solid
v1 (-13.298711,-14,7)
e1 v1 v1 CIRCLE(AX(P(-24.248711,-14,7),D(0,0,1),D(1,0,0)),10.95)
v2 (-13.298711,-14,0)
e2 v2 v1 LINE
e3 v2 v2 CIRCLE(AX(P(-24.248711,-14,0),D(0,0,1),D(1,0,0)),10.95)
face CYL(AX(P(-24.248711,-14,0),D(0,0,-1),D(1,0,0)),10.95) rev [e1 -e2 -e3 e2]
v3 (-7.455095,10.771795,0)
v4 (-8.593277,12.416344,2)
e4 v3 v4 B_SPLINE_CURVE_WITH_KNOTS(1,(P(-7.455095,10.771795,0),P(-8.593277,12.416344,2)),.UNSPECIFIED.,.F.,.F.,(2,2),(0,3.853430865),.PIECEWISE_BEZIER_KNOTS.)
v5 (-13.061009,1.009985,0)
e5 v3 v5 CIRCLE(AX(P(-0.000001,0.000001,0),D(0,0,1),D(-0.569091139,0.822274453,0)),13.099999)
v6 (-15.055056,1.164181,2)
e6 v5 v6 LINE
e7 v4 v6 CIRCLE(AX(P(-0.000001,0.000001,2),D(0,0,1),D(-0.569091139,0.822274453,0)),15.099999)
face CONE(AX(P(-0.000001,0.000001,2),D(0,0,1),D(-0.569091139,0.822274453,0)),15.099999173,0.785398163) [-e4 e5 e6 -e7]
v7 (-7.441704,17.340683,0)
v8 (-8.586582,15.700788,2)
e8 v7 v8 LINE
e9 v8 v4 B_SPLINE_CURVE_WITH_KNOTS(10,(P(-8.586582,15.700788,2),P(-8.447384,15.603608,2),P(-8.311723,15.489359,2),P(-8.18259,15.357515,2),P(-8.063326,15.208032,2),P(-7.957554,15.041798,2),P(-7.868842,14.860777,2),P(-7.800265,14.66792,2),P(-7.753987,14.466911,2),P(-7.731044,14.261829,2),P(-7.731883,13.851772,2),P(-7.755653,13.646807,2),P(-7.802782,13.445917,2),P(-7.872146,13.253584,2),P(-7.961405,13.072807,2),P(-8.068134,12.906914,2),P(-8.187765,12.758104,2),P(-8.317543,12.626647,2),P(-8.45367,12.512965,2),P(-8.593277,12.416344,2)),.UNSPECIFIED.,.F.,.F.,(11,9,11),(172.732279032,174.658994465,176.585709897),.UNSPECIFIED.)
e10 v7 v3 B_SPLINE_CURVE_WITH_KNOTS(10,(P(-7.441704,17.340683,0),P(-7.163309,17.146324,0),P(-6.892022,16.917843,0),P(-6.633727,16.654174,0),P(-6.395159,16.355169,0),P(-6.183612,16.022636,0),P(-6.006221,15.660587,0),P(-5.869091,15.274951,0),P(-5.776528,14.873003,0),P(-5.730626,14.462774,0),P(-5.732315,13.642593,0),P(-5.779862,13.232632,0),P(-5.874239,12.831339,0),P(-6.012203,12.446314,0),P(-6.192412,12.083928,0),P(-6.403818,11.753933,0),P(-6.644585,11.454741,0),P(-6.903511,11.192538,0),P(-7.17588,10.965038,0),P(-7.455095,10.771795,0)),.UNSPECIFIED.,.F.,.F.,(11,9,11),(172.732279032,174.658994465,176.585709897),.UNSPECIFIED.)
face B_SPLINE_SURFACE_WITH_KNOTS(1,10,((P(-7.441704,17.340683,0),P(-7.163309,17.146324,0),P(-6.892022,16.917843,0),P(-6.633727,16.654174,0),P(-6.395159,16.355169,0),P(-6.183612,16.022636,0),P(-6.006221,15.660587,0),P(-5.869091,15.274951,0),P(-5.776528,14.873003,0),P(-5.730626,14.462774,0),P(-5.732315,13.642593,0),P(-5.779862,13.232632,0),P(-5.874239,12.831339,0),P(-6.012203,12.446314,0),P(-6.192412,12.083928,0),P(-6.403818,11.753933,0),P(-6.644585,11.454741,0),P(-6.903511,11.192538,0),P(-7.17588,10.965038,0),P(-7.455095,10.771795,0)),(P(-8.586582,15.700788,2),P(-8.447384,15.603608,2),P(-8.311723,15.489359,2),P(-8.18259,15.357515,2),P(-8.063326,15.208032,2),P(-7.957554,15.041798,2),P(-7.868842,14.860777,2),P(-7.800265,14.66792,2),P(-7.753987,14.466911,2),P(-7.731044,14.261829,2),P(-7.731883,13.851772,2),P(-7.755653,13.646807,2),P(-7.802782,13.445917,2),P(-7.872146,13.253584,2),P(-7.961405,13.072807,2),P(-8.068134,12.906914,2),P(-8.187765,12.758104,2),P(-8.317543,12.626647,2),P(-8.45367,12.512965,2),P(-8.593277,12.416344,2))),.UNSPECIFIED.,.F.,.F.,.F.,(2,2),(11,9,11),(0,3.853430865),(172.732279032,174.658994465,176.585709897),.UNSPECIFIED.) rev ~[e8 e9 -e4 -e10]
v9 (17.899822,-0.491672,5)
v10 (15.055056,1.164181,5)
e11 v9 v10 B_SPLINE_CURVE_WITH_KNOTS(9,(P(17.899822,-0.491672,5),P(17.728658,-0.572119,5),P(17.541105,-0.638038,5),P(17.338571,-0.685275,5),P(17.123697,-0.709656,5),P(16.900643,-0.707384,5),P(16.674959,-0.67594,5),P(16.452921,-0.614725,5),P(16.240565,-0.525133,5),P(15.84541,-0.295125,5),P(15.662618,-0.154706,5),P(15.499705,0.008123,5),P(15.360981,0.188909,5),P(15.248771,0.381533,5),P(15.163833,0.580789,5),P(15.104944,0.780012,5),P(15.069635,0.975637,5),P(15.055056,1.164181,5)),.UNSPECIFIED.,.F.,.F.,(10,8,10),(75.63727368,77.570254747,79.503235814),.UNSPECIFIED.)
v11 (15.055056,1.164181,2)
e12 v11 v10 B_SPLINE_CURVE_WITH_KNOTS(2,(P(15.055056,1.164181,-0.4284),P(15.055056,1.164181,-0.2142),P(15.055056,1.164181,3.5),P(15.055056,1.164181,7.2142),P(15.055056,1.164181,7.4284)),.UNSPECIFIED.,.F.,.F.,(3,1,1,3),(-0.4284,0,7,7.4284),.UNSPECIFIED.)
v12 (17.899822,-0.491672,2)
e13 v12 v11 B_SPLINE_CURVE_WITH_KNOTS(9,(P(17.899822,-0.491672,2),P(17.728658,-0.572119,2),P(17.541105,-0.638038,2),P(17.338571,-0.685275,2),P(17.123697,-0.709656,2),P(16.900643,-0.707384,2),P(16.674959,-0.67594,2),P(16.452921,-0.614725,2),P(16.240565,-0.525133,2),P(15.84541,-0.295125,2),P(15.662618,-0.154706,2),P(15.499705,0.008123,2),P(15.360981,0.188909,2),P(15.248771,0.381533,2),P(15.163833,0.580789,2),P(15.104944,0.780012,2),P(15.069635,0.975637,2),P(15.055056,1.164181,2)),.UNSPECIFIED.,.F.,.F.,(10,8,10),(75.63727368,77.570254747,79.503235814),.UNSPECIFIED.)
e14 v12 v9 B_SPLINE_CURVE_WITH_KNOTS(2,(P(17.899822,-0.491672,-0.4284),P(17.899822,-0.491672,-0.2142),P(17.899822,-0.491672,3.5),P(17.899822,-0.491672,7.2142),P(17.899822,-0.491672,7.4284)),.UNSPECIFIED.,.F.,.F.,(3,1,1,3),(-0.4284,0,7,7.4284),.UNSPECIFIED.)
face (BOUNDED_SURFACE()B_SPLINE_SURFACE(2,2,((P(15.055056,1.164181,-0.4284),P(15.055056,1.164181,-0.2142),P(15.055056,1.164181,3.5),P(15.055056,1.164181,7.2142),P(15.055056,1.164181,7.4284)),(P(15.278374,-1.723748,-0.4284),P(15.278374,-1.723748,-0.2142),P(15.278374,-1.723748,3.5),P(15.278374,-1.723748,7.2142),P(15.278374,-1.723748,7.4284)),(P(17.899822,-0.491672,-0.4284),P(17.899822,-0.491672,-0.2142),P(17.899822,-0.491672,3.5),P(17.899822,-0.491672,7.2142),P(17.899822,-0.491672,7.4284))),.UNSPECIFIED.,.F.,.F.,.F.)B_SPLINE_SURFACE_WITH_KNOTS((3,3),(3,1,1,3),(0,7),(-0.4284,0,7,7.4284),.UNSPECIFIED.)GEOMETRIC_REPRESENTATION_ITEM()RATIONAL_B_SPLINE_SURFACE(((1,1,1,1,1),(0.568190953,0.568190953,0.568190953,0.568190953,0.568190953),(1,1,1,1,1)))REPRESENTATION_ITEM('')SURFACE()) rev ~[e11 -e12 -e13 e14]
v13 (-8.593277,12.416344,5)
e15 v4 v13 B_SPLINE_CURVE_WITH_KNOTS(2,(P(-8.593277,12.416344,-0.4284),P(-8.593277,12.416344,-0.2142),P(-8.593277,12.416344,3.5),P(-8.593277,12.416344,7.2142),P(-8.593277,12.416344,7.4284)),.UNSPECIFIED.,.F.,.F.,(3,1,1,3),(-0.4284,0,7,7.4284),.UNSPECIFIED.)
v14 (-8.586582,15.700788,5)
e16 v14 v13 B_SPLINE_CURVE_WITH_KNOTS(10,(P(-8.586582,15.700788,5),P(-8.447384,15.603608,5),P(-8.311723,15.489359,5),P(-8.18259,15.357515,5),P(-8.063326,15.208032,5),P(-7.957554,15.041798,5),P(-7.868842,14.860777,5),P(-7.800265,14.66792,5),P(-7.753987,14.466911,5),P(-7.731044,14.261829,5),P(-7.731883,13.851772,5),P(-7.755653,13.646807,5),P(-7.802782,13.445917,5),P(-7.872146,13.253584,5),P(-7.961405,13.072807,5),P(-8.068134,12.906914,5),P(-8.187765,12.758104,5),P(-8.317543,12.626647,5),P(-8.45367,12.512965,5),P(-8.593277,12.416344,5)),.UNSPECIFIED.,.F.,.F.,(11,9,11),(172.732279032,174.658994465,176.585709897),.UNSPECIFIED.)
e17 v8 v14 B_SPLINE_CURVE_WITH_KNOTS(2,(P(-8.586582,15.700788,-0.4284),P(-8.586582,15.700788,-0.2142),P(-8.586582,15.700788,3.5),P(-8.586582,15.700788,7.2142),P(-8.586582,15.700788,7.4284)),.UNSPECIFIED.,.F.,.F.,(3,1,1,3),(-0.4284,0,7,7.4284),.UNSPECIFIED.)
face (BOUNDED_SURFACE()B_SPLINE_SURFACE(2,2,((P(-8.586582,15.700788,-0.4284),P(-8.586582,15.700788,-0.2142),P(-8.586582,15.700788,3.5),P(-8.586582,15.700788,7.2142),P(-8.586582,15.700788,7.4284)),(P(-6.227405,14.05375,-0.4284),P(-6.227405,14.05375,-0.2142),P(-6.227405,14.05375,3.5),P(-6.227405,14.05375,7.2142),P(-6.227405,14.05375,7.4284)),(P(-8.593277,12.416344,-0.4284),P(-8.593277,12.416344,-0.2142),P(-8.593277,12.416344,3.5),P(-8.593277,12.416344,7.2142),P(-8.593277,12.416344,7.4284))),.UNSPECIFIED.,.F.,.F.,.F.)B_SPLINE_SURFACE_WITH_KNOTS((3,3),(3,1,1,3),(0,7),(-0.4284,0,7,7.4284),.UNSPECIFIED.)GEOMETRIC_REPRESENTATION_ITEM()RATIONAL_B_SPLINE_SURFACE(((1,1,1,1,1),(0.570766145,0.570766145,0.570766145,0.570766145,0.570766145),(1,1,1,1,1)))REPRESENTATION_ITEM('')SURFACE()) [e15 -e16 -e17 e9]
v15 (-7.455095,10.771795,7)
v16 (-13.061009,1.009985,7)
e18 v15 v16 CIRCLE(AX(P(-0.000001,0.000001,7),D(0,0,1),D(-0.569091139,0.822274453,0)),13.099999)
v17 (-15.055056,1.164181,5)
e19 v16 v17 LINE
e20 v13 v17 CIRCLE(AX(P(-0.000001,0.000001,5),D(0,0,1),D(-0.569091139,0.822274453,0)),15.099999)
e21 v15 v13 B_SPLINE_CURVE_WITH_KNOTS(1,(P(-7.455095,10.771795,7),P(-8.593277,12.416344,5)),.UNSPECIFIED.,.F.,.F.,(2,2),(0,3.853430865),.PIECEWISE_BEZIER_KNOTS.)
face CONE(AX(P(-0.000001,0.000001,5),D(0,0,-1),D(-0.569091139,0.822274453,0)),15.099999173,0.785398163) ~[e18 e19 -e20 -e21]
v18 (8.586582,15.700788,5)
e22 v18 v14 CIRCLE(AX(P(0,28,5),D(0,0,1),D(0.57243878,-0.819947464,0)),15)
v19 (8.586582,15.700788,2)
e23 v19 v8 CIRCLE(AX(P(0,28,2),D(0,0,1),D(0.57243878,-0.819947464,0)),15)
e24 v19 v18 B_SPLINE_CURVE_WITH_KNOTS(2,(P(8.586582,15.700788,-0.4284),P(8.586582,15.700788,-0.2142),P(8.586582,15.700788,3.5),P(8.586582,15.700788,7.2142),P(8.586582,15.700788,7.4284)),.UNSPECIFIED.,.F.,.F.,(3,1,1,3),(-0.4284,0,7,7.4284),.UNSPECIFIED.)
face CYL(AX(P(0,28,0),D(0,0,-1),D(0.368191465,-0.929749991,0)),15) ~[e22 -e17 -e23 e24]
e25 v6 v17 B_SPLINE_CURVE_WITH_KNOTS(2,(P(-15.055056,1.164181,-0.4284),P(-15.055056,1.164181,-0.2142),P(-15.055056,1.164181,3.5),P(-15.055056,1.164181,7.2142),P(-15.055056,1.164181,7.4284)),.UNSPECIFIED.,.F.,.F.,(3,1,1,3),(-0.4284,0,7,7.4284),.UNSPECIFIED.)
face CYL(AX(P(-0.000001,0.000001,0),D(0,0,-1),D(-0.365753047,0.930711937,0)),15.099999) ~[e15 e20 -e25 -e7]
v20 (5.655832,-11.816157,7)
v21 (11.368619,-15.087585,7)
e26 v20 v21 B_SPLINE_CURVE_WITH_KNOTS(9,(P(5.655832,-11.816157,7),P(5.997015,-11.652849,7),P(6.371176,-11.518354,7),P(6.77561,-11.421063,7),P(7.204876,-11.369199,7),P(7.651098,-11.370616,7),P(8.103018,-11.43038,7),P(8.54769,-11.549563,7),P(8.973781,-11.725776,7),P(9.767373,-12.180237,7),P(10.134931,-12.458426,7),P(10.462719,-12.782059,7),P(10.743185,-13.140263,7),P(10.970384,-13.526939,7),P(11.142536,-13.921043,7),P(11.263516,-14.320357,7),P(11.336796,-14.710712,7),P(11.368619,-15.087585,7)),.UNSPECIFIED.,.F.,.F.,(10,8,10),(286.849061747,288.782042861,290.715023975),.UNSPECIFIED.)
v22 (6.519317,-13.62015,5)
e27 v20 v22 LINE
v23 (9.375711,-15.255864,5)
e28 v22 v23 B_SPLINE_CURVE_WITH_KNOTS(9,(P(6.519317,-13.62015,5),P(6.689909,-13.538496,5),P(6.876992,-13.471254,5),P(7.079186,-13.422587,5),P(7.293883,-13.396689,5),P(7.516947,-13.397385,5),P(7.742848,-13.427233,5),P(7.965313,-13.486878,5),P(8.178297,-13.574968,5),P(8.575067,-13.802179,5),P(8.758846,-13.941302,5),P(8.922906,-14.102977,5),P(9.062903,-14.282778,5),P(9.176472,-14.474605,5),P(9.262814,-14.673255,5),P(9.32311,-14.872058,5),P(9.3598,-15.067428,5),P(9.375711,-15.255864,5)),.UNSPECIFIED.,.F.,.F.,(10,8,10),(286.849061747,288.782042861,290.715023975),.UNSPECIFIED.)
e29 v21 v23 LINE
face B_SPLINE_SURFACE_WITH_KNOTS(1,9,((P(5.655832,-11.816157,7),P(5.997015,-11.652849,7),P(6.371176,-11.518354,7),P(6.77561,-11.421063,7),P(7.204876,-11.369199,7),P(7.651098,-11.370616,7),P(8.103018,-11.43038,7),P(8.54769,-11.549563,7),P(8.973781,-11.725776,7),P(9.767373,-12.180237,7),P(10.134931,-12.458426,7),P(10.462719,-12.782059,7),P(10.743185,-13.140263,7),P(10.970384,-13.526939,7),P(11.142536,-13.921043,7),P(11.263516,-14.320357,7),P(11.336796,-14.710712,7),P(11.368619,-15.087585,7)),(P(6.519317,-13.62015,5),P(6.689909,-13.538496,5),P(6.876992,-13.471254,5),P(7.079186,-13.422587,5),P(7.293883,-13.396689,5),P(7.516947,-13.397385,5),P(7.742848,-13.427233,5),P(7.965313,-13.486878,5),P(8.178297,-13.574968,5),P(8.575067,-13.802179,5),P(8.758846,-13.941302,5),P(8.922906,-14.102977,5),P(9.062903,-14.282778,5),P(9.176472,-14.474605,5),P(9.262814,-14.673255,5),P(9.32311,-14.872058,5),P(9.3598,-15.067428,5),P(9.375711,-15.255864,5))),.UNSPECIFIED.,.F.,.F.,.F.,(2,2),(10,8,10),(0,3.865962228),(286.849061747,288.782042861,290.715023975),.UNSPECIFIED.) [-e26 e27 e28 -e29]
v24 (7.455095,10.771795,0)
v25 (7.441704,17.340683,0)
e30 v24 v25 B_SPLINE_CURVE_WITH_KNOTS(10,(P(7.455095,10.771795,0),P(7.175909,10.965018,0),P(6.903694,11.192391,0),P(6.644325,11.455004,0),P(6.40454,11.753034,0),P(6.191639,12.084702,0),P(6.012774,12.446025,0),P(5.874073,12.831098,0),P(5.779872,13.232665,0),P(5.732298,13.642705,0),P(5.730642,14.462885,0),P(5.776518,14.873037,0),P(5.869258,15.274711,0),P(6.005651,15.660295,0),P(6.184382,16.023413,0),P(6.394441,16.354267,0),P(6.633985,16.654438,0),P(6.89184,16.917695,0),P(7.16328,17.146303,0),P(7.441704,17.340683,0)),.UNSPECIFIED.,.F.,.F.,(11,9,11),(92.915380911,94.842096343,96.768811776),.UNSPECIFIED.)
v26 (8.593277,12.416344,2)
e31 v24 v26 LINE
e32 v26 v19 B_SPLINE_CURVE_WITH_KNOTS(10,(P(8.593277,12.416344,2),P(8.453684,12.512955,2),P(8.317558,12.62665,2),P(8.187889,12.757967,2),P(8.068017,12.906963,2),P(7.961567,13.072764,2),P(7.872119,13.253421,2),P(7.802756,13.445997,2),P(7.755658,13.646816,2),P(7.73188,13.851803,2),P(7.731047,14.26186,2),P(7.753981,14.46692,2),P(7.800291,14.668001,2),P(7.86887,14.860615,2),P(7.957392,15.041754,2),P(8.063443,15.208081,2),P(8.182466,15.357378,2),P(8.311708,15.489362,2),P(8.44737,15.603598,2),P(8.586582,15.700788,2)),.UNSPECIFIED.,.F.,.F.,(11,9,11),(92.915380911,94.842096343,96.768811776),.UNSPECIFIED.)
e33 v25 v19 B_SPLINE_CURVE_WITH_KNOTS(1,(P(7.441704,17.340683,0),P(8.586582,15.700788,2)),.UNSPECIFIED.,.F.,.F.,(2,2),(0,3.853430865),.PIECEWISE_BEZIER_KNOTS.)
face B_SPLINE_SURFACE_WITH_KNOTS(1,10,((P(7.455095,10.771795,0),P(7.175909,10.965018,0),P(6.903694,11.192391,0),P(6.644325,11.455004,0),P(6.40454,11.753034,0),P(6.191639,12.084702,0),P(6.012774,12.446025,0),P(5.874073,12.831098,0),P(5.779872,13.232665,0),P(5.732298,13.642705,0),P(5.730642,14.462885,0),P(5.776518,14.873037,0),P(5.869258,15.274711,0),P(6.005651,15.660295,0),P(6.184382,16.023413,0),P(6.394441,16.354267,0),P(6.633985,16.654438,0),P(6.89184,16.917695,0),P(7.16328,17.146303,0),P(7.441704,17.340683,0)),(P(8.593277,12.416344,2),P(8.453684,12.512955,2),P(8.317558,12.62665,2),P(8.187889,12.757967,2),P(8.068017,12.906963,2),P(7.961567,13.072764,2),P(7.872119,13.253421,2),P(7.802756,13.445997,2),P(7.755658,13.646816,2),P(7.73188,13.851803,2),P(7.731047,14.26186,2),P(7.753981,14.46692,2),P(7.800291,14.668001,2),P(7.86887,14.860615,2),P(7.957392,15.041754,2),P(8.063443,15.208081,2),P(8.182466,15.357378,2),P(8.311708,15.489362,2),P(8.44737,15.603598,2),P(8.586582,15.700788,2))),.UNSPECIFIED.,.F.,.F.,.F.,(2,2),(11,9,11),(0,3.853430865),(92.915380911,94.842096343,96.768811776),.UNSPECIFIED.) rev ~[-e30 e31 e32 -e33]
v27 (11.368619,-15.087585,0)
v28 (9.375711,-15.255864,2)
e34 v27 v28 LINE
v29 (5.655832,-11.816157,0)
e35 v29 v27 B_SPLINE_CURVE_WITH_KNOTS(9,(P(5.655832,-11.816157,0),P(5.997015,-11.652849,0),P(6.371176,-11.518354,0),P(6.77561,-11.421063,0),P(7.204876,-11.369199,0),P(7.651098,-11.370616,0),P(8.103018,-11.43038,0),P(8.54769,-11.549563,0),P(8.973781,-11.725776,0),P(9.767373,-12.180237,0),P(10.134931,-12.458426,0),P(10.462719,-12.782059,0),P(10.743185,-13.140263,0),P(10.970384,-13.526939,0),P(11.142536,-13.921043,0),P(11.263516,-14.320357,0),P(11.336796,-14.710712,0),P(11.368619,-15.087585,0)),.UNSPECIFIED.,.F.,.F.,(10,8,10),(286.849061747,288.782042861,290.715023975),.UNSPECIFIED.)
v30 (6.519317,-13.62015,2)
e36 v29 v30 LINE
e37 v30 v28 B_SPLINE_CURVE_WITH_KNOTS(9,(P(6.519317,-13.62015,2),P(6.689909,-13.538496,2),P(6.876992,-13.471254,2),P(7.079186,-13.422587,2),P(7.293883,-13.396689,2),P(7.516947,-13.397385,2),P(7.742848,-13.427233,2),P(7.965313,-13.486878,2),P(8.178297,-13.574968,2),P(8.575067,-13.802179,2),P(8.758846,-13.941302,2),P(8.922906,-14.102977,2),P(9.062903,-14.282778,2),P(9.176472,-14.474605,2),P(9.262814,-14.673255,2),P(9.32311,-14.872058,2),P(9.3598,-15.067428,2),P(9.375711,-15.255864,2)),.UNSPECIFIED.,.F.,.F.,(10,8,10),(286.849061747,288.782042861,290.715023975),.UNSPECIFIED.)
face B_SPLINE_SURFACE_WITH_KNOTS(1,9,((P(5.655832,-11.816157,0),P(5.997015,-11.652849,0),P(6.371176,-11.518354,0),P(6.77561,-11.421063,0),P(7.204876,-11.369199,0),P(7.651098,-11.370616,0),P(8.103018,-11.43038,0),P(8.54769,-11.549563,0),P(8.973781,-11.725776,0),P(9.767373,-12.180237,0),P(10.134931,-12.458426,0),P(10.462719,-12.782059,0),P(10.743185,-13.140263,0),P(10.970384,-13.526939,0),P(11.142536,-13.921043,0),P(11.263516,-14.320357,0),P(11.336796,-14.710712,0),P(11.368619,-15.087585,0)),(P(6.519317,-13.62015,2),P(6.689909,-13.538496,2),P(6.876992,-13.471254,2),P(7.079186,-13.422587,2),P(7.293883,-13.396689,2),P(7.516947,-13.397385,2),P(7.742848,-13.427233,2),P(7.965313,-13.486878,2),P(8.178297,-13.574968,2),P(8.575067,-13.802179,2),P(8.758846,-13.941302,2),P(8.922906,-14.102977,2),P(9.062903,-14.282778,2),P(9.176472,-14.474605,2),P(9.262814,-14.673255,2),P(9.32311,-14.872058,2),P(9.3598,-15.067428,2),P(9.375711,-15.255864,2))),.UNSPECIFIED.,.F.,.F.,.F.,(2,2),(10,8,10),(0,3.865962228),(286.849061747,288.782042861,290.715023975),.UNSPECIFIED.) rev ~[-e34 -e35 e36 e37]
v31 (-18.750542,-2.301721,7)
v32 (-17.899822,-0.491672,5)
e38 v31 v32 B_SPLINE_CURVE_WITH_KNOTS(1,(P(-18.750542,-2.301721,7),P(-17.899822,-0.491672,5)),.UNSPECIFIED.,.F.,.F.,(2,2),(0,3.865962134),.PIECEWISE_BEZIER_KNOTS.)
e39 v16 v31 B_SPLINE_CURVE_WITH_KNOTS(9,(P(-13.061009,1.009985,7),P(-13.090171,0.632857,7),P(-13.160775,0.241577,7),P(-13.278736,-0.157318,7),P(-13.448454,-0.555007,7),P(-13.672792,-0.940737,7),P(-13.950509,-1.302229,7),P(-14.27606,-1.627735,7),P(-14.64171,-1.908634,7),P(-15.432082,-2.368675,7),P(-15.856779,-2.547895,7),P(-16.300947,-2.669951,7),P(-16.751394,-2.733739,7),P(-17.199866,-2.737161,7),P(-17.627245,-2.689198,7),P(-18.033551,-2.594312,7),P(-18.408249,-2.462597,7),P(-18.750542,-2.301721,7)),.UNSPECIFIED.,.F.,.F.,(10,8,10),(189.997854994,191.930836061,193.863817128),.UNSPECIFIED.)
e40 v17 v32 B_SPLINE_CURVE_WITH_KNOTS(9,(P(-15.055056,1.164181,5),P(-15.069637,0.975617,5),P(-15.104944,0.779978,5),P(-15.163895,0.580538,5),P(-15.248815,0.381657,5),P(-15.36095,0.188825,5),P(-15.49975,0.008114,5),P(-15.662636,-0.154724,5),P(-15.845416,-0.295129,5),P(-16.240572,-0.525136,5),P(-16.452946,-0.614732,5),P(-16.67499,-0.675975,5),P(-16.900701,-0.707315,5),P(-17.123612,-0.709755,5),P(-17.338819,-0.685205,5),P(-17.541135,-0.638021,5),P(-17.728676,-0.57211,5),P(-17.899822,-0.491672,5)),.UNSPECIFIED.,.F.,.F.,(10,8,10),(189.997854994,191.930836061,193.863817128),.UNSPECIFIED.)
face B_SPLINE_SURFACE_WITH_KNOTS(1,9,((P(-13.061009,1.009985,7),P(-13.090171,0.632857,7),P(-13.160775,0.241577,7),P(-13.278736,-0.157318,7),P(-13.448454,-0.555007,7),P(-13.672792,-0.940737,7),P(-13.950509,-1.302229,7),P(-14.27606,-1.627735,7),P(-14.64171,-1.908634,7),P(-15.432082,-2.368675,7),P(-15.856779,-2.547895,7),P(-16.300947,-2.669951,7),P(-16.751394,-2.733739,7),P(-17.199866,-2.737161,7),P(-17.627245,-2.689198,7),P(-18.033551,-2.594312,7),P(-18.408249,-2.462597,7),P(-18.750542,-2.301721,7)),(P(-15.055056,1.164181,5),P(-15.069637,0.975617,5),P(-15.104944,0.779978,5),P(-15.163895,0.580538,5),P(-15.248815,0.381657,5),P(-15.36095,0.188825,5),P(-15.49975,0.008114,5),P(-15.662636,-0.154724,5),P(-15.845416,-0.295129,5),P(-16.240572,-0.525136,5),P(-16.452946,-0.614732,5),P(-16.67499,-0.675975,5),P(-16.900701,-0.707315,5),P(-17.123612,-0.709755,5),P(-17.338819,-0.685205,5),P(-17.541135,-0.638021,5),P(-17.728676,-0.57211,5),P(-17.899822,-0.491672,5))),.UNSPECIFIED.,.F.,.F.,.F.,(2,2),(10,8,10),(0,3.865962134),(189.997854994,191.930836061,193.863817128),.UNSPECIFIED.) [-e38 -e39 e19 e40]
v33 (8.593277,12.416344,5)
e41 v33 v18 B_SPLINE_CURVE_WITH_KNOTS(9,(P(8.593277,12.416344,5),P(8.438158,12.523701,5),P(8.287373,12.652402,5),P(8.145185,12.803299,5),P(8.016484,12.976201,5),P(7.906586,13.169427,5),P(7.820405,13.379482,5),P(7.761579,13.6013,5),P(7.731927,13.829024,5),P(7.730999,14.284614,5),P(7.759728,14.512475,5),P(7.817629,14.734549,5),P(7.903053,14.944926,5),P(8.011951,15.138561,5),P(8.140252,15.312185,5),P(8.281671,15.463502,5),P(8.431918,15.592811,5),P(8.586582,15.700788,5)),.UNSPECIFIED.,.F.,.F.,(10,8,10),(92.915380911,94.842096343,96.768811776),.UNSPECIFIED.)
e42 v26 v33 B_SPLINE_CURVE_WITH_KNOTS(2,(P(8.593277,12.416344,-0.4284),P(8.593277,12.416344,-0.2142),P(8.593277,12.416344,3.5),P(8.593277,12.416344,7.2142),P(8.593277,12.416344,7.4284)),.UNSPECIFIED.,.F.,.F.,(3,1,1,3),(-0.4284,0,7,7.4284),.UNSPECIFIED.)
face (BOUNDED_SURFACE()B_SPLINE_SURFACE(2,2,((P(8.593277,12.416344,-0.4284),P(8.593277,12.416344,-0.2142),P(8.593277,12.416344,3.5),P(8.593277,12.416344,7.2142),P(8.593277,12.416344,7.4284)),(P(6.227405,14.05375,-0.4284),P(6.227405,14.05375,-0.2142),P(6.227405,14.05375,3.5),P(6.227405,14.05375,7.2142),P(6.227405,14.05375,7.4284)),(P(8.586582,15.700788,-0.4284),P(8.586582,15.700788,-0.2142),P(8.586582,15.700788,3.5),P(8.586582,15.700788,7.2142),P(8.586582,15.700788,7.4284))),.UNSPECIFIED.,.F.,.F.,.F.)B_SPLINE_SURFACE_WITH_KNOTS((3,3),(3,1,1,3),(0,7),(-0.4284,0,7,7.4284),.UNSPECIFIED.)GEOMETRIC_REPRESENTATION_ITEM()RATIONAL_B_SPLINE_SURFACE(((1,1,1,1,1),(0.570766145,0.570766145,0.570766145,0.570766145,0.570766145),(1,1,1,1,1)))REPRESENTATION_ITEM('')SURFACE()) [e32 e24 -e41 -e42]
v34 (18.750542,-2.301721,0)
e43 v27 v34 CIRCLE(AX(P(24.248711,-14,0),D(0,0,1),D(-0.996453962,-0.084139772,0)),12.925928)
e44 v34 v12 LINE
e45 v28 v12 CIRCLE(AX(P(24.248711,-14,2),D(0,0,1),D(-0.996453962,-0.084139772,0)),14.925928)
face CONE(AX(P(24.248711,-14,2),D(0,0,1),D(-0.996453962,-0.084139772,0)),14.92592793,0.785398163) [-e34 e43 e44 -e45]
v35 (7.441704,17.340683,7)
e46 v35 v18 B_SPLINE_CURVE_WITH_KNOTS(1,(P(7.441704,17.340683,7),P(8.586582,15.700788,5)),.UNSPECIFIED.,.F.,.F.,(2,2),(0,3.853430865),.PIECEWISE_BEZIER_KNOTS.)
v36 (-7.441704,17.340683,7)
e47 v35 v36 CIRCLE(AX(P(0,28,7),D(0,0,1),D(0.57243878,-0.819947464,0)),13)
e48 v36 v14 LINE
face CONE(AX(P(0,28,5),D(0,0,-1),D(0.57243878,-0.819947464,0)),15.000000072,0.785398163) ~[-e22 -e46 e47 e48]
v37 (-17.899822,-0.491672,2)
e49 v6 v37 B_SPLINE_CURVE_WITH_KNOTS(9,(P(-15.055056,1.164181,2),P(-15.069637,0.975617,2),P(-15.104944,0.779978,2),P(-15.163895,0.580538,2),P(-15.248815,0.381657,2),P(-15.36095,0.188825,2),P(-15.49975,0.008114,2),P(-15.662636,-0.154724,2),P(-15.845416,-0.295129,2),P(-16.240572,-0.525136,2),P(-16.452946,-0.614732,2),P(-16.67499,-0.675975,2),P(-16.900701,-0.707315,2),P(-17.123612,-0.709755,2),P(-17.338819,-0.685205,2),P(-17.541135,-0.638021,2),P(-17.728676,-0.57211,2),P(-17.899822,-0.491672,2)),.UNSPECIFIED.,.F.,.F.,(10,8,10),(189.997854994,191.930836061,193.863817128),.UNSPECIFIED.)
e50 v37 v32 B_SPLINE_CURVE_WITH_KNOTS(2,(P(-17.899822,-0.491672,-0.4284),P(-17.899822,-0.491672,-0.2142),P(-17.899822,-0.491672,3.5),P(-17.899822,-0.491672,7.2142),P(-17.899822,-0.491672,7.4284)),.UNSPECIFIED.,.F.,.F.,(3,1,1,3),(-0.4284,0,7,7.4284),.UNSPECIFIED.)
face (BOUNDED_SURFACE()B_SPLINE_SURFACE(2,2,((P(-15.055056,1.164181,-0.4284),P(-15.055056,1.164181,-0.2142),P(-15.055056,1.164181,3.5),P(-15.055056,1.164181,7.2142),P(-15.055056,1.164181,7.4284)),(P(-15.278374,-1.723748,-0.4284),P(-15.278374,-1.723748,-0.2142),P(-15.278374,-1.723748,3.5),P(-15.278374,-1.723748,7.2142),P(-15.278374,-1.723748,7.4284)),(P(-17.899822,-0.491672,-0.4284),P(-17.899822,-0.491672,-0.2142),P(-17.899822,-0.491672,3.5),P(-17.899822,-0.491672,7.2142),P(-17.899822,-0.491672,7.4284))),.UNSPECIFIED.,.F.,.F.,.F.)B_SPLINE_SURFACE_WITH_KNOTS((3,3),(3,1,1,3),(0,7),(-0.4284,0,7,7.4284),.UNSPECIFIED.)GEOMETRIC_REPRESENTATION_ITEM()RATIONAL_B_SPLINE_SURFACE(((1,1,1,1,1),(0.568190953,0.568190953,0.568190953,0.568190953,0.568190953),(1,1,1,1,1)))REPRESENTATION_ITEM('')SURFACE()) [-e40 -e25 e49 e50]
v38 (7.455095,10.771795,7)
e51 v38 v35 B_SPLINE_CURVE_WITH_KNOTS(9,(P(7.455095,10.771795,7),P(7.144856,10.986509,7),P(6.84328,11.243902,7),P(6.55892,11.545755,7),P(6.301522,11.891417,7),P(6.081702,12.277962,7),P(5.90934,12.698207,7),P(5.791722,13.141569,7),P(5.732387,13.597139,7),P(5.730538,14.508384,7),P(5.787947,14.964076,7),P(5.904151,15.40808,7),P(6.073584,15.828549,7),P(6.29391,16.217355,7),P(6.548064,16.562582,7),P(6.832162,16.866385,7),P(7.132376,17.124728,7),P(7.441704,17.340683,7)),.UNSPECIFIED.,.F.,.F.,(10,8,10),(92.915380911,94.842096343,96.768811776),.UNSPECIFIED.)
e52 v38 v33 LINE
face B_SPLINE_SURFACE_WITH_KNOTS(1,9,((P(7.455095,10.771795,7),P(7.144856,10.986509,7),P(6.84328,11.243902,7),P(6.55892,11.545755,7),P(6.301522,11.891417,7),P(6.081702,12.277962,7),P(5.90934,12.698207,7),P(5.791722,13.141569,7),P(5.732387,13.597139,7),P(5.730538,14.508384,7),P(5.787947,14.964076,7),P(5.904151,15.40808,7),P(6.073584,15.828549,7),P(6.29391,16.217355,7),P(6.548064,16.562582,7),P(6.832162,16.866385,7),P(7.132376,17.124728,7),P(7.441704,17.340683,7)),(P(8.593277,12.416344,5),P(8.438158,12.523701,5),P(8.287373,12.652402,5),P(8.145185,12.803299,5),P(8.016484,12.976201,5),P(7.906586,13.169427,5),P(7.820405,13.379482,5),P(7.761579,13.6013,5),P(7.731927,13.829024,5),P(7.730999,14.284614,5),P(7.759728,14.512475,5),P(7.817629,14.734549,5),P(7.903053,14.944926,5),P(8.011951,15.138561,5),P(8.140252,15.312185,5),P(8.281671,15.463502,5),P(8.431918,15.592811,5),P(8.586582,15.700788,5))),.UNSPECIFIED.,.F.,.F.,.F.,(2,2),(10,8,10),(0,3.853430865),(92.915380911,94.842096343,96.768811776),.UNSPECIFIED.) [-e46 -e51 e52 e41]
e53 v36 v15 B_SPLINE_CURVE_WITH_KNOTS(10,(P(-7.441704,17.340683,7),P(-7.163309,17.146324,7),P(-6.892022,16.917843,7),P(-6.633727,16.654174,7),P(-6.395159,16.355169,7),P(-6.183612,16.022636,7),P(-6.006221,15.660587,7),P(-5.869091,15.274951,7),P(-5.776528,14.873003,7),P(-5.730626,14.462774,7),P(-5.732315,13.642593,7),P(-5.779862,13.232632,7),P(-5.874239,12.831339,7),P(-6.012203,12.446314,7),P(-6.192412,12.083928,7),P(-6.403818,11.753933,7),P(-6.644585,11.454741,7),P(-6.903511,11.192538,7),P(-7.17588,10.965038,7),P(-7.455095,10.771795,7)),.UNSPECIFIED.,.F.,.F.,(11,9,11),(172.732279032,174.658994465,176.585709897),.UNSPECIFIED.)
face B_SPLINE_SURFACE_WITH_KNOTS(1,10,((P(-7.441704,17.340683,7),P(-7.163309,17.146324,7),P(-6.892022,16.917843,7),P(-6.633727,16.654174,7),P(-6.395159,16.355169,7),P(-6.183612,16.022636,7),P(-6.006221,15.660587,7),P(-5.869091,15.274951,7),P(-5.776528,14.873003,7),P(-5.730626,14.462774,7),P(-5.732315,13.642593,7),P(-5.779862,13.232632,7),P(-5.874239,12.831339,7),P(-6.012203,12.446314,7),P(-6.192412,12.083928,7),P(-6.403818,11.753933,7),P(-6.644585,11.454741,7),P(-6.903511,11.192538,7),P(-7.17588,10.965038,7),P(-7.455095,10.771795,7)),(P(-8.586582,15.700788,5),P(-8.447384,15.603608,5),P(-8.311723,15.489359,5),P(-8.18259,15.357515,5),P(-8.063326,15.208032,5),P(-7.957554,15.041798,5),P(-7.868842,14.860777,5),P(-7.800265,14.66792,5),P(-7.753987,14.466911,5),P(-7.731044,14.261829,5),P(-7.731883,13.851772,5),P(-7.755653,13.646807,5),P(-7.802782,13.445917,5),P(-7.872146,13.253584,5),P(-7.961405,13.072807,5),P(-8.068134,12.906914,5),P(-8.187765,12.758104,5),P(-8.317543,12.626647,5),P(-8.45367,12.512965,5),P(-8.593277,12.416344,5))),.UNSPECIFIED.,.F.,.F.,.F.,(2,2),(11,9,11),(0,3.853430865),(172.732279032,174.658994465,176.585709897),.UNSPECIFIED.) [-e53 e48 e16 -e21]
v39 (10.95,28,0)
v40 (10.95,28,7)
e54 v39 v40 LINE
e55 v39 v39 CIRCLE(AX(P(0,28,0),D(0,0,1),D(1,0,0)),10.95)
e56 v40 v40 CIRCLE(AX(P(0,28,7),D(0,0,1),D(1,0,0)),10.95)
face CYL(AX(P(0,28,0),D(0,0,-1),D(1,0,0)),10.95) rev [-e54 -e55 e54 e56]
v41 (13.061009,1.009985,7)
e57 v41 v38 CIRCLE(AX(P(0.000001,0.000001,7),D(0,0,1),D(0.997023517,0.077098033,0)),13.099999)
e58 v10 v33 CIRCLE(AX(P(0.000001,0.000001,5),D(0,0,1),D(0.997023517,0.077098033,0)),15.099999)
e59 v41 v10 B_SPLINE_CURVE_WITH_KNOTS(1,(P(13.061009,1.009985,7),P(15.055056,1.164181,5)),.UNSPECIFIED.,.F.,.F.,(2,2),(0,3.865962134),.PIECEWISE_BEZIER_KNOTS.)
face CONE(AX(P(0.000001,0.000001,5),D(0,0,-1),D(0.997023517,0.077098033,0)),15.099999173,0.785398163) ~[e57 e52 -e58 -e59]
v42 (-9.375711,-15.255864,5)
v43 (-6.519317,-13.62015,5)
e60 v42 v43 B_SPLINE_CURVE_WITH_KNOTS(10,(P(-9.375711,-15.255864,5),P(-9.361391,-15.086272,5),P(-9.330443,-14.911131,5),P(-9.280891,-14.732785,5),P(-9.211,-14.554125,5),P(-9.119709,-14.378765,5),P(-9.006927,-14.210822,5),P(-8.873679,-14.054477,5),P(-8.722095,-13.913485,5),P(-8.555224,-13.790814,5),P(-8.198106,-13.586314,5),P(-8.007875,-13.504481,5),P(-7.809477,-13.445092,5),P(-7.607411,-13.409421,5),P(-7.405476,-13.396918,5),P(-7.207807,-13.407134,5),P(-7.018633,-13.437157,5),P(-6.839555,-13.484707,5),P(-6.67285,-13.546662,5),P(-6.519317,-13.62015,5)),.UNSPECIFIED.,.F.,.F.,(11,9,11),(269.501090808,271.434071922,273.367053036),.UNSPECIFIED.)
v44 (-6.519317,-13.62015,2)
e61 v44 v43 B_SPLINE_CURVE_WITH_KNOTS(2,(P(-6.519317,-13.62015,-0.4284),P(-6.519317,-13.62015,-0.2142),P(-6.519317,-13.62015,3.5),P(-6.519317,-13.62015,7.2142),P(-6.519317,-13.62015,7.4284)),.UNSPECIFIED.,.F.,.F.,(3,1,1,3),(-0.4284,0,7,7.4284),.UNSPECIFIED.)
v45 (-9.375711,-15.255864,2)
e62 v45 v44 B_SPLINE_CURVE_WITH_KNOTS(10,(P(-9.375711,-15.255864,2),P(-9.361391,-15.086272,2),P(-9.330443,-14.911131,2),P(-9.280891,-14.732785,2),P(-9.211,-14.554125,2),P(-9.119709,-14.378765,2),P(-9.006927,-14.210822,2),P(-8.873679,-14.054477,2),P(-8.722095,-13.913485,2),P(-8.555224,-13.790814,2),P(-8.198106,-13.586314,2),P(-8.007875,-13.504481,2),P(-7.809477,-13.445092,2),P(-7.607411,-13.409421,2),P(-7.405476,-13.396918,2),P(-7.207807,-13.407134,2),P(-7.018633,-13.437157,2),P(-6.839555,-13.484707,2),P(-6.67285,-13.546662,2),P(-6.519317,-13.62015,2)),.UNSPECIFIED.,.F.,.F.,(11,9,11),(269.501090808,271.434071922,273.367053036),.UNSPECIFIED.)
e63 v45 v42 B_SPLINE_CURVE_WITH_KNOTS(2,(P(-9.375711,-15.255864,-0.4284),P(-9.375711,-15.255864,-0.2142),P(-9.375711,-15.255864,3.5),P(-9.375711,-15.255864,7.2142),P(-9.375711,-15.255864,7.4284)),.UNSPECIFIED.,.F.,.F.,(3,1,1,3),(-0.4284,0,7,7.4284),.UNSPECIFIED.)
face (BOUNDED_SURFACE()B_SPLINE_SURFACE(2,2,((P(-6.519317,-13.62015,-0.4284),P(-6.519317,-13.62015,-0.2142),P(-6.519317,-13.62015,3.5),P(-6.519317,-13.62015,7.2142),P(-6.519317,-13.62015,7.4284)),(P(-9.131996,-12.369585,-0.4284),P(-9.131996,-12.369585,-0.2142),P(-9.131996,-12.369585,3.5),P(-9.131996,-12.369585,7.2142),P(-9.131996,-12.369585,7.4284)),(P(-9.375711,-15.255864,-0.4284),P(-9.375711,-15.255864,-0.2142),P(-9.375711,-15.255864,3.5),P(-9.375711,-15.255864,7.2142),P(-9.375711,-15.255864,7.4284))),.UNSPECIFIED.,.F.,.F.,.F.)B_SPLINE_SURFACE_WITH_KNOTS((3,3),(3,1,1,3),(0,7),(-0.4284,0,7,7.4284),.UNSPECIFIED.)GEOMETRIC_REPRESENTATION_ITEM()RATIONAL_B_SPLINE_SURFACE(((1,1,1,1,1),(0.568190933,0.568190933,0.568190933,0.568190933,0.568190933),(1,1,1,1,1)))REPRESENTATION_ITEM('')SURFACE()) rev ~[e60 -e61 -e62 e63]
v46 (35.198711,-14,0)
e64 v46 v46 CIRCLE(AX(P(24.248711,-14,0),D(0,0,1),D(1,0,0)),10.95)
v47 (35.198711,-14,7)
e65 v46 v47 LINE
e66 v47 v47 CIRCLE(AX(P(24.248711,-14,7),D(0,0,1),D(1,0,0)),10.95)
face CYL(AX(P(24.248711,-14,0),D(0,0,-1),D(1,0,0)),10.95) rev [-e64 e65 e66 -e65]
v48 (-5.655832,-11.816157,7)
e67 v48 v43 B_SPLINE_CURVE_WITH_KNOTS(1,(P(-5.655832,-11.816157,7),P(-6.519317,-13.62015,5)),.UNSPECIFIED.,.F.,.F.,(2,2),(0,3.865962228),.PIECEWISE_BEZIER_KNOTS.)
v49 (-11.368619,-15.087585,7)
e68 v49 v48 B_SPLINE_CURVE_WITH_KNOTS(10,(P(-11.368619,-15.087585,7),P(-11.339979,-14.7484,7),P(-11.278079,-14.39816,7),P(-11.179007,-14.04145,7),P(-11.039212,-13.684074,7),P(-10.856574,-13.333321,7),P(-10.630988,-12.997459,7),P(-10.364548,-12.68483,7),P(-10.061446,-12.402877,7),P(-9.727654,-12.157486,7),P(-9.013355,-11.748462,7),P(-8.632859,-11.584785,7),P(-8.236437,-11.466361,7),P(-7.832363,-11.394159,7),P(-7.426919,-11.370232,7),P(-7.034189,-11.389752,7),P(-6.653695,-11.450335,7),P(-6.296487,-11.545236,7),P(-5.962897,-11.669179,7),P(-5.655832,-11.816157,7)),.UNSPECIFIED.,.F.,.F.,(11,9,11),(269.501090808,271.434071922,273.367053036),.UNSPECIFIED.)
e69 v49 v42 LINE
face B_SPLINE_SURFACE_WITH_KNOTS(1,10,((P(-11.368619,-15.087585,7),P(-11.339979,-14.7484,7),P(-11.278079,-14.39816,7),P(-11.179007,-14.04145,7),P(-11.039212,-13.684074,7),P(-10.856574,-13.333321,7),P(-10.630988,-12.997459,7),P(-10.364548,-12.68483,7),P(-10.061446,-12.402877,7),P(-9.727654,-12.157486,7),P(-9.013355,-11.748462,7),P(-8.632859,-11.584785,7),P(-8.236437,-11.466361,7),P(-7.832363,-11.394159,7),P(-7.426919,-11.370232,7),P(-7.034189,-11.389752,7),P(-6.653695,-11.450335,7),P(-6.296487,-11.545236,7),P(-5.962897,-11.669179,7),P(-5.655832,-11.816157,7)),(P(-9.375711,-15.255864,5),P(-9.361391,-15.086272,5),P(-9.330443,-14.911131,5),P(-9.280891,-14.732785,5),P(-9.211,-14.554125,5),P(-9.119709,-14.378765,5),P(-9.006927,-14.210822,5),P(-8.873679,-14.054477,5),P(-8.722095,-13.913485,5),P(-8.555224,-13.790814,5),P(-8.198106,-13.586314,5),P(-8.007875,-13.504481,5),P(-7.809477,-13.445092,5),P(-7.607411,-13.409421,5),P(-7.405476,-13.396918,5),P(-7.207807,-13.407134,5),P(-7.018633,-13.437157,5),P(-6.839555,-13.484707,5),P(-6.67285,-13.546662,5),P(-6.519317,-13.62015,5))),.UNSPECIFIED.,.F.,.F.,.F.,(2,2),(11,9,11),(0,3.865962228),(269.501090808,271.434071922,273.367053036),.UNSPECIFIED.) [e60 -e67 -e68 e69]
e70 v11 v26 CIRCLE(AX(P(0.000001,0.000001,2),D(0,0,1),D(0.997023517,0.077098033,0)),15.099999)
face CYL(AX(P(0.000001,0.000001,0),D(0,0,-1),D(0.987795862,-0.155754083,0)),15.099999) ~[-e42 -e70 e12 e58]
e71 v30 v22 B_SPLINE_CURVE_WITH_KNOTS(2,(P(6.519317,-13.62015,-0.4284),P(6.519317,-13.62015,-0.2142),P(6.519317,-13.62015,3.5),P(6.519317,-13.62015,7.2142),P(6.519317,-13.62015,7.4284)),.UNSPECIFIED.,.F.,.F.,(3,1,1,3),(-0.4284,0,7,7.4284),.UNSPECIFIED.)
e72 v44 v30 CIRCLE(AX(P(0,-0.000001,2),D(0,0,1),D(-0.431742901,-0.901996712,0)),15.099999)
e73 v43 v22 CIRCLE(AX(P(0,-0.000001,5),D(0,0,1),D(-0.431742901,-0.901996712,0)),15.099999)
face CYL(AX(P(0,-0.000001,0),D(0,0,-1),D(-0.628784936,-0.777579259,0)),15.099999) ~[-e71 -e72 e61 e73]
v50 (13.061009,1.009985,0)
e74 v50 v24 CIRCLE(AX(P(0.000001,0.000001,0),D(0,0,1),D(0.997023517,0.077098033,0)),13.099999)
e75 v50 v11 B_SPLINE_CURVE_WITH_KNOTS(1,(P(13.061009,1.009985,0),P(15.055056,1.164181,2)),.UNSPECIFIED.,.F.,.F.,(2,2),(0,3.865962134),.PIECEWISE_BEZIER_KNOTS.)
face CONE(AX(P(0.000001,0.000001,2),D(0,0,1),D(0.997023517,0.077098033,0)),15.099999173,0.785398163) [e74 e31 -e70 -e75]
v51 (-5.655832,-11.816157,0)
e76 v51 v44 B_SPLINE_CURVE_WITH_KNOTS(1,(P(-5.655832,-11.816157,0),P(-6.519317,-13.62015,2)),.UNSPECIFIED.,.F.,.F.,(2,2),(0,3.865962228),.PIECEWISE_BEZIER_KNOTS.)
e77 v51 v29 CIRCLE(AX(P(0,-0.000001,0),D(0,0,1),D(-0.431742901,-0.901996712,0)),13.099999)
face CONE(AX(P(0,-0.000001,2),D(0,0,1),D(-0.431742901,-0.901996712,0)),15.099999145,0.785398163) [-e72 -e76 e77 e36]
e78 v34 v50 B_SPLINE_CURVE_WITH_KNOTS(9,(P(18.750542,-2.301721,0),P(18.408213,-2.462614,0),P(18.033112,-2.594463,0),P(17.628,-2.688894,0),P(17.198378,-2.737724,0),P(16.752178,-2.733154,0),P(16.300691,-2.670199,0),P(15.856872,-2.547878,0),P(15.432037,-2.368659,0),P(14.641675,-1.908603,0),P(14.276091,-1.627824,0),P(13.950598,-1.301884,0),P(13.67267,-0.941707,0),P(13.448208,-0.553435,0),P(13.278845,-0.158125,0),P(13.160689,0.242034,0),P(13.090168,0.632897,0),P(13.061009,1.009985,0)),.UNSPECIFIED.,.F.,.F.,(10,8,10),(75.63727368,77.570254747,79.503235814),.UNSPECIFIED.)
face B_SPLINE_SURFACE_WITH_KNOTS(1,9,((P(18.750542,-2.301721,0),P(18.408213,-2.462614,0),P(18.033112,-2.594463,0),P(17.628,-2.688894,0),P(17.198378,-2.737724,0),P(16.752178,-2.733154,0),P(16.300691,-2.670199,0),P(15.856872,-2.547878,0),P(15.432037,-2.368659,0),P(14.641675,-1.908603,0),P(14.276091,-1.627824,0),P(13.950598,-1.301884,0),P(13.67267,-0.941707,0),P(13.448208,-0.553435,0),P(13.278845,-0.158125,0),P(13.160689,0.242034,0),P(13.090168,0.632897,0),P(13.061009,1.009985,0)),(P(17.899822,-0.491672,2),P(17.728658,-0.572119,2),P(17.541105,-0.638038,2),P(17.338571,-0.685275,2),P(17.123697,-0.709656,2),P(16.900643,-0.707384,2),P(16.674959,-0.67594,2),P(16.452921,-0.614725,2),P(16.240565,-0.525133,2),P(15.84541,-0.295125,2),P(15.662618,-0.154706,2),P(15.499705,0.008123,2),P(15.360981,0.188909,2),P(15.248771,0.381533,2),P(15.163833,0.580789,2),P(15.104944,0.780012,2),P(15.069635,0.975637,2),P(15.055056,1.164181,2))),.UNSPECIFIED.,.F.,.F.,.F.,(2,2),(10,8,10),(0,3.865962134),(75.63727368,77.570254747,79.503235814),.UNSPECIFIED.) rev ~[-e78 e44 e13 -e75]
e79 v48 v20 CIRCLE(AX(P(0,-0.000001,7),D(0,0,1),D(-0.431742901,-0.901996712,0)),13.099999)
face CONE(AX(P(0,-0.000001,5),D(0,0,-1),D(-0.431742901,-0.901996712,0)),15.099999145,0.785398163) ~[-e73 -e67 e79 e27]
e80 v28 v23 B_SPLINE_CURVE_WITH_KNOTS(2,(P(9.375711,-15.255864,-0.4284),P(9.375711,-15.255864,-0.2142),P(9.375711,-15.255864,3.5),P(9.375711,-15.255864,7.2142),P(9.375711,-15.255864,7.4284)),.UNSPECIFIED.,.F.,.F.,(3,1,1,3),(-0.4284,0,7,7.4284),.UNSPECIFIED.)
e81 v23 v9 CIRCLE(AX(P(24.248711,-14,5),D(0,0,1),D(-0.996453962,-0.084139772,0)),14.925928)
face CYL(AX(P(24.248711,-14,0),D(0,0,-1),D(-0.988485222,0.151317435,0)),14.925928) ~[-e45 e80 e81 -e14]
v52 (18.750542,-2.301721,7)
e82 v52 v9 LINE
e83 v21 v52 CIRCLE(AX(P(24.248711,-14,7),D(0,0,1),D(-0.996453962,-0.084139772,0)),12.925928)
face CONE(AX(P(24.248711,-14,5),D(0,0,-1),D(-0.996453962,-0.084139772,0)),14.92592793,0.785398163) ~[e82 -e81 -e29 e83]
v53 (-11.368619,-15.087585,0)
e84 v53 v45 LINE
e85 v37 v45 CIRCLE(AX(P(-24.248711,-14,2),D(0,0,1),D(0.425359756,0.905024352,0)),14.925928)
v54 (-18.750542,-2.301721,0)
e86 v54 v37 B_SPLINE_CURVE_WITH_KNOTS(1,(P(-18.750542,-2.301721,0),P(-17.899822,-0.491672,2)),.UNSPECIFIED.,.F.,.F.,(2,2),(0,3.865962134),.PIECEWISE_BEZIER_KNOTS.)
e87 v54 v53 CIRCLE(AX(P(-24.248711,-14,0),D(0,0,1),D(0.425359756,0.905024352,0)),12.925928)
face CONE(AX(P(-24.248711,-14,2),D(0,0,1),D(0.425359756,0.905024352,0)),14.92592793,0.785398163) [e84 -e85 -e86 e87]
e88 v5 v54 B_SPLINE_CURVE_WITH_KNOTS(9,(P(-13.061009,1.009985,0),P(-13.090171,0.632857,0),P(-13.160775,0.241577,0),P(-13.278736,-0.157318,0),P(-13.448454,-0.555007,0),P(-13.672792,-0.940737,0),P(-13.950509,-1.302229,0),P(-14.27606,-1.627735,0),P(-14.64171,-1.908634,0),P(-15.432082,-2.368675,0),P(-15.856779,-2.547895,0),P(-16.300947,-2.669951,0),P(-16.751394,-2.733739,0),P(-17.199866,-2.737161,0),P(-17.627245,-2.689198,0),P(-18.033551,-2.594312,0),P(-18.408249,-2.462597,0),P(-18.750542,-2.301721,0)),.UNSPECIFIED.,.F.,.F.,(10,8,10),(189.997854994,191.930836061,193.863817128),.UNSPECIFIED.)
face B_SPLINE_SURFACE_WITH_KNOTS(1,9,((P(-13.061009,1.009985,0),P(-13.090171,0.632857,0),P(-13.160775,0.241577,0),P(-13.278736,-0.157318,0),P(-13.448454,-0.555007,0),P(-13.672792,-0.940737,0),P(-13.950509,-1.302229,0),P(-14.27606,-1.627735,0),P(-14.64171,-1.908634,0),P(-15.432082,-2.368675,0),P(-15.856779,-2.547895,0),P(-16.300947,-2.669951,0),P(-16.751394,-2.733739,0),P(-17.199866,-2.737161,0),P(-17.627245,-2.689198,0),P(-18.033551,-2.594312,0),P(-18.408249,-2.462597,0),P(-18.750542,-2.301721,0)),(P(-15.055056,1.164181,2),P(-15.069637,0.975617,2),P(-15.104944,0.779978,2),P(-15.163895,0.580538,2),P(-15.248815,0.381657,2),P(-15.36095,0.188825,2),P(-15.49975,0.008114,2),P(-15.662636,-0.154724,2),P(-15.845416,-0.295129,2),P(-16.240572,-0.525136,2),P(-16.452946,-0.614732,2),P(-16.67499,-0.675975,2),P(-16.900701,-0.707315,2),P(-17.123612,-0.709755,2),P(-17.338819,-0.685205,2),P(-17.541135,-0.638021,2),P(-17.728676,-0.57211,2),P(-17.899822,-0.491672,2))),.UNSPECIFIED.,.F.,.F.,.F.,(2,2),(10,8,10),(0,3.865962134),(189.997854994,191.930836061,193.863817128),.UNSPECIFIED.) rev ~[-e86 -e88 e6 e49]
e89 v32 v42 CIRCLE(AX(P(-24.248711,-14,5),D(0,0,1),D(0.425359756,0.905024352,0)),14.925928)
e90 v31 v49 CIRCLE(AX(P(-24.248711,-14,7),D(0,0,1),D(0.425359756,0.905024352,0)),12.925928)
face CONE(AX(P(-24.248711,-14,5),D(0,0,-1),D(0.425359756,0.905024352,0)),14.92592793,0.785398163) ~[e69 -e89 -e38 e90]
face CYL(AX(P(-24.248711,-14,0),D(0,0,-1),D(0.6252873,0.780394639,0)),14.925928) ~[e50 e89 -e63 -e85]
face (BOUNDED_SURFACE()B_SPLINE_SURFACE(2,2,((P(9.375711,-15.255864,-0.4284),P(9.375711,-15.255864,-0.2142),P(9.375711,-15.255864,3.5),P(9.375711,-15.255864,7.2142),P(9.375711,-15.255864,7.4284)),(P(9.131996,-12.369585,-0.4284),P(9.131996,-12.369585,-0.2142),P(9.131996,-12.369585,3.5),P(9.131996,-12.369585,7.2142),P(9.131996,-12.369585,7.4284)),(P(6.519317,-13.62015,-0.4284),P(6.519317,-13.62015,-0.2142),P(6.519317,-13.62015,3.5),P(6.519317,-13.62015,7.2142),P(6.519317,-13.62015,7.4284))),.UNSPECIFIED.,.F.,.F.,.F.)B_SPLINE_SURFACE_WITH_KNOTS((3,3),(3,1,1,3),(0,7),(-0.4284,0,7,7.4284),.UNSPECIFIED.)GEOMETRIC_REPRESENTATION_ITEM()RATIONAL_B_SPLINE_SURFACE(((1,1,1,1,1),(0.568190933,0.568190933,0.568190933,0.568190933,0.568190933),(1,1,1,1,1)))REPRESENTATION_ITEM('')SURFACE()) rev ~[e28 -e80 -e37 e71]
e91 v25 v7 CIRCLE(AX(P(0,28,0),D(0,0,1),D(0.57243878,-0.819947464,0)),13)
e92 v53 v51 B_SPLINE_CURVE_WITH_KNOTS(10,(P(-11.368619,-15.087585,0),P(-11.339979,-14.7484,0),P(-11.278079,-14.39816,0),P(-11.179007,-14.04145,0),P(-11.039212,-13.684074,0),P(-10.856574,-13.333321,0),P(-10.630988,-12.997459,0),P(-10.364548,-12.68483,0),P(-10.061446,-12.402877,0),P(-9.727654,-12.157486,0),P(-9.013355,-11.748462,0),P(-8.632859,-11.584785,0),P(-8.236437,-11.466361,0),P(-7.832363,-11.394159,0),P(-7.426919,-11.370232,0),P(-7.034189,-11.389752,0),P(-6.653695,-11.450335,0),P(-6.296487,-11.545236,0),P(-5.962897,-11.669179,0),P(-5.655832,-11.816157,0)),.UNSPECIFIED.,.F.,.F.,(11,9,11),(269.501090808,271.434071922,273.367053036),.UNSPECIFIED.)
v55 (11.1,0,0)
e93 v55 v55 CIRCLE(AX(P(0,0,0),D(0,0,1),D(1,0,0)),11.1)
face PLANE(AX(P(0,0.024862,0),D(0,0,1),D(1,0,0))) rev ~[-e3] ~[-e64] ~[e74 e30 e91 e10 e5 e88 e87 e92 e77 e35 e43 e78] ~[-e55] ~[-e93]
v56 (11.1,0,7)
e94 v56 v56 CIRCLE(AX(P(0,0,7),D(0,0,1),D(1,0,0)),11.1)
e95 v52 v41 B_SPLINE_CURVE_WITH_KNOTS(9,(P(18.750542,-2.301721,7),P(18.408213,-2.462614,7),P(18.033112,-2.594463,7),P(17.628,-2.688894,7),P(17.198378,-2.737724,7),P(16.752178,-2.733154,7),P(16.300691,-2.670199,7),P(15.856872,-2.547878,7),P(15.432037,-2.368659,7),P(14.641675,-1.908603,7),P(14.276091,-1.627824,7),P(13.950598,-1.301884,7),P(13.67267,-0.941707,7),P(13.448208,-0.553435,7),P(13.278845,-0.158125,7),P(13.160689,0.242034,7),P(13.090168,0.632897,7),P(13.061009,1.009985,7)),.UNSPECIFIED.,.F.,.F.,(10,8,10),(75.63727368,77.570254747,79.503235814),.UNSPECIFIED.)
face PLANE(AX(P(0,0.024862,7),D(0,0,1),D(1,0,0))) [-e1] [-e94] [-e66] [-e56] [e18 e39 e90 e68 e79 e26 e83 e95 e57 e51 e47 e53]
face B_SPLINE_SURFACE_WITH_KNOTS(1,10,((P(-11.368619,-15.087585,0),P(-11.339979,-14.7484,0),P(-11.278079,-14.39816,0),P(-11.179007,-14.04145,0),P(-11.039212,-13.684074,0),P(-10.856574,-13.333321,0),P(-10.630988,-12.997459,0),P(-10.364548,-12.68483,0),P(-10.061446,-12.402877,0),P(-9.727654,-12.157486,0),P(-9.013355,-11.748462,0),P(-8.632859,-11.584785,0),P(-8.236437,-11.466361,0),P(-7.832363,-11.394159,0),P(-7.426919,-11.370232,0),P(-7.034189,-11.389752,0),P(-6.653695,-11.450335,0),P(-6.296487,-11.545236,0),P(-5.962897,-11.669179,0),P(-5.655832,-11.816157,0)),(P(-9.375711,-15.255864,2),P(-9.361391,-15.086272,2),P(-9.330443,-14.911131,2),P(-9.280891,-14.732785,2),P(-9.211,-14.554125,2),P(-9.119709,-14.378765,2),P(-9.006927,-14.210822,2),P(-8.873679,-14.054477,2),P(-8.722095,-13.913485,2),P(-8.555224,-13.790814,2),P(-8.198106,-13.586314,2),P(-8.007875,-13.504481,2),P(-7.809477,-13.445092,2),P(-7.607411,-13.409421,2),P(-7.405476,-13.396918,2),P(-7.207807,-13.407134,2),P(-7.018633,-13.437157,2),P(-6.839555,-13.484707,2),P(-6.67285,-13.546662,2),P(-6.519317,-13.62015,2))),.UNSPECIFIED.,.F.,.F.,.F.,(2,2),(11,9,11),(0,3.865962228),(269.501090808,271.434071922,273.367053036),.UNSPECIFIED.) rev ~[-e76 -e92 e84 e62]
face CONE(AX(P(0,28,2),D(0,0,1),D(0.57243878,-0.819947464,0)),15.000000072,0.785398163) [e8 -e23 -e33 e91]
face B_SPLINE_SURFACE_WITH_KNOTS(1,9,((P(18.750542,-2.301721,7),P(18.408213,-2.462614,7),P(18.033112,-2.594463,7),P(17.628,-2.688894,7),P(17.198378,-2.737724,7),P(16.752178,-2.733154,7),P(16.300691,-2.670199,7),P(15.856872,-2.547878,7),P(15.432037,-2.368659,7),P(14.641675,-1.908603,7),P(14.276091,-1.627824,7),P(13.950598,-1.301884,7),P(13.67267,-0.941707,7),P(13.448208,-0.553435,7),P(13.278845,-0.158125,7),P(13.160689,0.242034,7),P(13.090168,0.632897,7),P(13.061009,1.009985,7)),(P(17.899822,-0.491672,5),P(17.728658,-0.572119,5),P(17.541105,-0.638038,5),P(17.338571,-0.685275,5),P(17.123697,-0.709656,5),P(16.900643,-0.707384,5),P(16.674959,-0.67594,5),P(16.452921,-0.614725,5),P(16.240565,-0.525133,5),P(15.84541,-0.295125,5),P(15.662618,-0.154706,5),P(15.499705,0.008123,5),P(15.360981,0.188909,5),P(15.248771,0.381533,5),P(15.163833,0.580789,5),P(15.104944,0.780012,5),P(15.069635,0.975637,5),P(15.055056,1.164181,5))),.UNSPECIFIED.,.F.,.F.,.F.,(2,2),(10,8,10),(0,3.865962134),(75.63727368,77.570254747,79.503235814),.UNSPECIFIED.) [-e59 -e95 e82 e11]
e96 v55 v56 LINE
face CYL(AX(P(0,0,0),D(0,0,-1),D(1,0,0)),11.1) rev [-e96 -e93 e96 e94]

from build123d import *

# Parameters (mm, degrees)
F0_R     = 10.95
F0_R_2   = 11.1
F1_DEPTH = 7
F2_R     = 2
F3_SIZE  = 2


with BuildPart() as f1:
    # F0 (on Top) → F1 (new body)
    with BuildSketch(Plane.XY):
        with BuildLine():
            ThreePointArc((14.915718, -2.351886), (13.104206, 7.502653), (5.522872, 14.05375))
            ThreePointArc((5.522872, 14.05375), (0, 43), (-5.522872, 14.05375))
            ThreePointArc((-5.522872, 14.05375), (-13.104206, 7.502653), (-14.915718, -2.351886))
            ThreePointArc((-14.915718, -2.351886), (-37.174944, -21.462964), (-9.494652, -11.741447))
            ThreePointArc((-9.494652, -11.741447), (0, -15.1), (9.494652, -11.741447))
            ThreePointArc((9.494652, -11.741447), (37.174944, -21.462964), (14.915718, -2.351886))
        make_face()
        with Locations((-24.248711, -14)):
            Circle(F0_R, mode=Mode.SUBTRACT)
        with Locations((24.248711, -14)):
            Circle(F0_R, mode=Mode.SUBTRACT)
        Circle(F0_R_2, mode=Mode.SUBTRACT)
        with Locations((0, 28)):
            Circle(F0_R, mode=Mode.SUBTRACT)
    extrude(amount=F1_DEPTH)

    # F2
    f2_edges = [f1.edges().sort_by_distance(p)[0] for p in [
        (-9.494652, -11.741447, 3.5),
        (9.494652, -11.741447, 3.5),
        (14.915718, -2.351886, 3.5),
        (5.522872, 14.05375, 3.5),
        (-5.522872, 14.05375, 3.5),
        (-14.915718, -2.351886, 3.5),
    ]]
    fillet(f2_edges, radius=F2_R)

    # F3
    f3_edges = [f1.edges().sort_by_distance(p)[0] for p in [
        (37.174944, -21.462964, 0),
        (37.174944, -21.462964, 7),
    ]]
    chamfer(f3_edges, length=F3_SIZE)


solid = f1.part
